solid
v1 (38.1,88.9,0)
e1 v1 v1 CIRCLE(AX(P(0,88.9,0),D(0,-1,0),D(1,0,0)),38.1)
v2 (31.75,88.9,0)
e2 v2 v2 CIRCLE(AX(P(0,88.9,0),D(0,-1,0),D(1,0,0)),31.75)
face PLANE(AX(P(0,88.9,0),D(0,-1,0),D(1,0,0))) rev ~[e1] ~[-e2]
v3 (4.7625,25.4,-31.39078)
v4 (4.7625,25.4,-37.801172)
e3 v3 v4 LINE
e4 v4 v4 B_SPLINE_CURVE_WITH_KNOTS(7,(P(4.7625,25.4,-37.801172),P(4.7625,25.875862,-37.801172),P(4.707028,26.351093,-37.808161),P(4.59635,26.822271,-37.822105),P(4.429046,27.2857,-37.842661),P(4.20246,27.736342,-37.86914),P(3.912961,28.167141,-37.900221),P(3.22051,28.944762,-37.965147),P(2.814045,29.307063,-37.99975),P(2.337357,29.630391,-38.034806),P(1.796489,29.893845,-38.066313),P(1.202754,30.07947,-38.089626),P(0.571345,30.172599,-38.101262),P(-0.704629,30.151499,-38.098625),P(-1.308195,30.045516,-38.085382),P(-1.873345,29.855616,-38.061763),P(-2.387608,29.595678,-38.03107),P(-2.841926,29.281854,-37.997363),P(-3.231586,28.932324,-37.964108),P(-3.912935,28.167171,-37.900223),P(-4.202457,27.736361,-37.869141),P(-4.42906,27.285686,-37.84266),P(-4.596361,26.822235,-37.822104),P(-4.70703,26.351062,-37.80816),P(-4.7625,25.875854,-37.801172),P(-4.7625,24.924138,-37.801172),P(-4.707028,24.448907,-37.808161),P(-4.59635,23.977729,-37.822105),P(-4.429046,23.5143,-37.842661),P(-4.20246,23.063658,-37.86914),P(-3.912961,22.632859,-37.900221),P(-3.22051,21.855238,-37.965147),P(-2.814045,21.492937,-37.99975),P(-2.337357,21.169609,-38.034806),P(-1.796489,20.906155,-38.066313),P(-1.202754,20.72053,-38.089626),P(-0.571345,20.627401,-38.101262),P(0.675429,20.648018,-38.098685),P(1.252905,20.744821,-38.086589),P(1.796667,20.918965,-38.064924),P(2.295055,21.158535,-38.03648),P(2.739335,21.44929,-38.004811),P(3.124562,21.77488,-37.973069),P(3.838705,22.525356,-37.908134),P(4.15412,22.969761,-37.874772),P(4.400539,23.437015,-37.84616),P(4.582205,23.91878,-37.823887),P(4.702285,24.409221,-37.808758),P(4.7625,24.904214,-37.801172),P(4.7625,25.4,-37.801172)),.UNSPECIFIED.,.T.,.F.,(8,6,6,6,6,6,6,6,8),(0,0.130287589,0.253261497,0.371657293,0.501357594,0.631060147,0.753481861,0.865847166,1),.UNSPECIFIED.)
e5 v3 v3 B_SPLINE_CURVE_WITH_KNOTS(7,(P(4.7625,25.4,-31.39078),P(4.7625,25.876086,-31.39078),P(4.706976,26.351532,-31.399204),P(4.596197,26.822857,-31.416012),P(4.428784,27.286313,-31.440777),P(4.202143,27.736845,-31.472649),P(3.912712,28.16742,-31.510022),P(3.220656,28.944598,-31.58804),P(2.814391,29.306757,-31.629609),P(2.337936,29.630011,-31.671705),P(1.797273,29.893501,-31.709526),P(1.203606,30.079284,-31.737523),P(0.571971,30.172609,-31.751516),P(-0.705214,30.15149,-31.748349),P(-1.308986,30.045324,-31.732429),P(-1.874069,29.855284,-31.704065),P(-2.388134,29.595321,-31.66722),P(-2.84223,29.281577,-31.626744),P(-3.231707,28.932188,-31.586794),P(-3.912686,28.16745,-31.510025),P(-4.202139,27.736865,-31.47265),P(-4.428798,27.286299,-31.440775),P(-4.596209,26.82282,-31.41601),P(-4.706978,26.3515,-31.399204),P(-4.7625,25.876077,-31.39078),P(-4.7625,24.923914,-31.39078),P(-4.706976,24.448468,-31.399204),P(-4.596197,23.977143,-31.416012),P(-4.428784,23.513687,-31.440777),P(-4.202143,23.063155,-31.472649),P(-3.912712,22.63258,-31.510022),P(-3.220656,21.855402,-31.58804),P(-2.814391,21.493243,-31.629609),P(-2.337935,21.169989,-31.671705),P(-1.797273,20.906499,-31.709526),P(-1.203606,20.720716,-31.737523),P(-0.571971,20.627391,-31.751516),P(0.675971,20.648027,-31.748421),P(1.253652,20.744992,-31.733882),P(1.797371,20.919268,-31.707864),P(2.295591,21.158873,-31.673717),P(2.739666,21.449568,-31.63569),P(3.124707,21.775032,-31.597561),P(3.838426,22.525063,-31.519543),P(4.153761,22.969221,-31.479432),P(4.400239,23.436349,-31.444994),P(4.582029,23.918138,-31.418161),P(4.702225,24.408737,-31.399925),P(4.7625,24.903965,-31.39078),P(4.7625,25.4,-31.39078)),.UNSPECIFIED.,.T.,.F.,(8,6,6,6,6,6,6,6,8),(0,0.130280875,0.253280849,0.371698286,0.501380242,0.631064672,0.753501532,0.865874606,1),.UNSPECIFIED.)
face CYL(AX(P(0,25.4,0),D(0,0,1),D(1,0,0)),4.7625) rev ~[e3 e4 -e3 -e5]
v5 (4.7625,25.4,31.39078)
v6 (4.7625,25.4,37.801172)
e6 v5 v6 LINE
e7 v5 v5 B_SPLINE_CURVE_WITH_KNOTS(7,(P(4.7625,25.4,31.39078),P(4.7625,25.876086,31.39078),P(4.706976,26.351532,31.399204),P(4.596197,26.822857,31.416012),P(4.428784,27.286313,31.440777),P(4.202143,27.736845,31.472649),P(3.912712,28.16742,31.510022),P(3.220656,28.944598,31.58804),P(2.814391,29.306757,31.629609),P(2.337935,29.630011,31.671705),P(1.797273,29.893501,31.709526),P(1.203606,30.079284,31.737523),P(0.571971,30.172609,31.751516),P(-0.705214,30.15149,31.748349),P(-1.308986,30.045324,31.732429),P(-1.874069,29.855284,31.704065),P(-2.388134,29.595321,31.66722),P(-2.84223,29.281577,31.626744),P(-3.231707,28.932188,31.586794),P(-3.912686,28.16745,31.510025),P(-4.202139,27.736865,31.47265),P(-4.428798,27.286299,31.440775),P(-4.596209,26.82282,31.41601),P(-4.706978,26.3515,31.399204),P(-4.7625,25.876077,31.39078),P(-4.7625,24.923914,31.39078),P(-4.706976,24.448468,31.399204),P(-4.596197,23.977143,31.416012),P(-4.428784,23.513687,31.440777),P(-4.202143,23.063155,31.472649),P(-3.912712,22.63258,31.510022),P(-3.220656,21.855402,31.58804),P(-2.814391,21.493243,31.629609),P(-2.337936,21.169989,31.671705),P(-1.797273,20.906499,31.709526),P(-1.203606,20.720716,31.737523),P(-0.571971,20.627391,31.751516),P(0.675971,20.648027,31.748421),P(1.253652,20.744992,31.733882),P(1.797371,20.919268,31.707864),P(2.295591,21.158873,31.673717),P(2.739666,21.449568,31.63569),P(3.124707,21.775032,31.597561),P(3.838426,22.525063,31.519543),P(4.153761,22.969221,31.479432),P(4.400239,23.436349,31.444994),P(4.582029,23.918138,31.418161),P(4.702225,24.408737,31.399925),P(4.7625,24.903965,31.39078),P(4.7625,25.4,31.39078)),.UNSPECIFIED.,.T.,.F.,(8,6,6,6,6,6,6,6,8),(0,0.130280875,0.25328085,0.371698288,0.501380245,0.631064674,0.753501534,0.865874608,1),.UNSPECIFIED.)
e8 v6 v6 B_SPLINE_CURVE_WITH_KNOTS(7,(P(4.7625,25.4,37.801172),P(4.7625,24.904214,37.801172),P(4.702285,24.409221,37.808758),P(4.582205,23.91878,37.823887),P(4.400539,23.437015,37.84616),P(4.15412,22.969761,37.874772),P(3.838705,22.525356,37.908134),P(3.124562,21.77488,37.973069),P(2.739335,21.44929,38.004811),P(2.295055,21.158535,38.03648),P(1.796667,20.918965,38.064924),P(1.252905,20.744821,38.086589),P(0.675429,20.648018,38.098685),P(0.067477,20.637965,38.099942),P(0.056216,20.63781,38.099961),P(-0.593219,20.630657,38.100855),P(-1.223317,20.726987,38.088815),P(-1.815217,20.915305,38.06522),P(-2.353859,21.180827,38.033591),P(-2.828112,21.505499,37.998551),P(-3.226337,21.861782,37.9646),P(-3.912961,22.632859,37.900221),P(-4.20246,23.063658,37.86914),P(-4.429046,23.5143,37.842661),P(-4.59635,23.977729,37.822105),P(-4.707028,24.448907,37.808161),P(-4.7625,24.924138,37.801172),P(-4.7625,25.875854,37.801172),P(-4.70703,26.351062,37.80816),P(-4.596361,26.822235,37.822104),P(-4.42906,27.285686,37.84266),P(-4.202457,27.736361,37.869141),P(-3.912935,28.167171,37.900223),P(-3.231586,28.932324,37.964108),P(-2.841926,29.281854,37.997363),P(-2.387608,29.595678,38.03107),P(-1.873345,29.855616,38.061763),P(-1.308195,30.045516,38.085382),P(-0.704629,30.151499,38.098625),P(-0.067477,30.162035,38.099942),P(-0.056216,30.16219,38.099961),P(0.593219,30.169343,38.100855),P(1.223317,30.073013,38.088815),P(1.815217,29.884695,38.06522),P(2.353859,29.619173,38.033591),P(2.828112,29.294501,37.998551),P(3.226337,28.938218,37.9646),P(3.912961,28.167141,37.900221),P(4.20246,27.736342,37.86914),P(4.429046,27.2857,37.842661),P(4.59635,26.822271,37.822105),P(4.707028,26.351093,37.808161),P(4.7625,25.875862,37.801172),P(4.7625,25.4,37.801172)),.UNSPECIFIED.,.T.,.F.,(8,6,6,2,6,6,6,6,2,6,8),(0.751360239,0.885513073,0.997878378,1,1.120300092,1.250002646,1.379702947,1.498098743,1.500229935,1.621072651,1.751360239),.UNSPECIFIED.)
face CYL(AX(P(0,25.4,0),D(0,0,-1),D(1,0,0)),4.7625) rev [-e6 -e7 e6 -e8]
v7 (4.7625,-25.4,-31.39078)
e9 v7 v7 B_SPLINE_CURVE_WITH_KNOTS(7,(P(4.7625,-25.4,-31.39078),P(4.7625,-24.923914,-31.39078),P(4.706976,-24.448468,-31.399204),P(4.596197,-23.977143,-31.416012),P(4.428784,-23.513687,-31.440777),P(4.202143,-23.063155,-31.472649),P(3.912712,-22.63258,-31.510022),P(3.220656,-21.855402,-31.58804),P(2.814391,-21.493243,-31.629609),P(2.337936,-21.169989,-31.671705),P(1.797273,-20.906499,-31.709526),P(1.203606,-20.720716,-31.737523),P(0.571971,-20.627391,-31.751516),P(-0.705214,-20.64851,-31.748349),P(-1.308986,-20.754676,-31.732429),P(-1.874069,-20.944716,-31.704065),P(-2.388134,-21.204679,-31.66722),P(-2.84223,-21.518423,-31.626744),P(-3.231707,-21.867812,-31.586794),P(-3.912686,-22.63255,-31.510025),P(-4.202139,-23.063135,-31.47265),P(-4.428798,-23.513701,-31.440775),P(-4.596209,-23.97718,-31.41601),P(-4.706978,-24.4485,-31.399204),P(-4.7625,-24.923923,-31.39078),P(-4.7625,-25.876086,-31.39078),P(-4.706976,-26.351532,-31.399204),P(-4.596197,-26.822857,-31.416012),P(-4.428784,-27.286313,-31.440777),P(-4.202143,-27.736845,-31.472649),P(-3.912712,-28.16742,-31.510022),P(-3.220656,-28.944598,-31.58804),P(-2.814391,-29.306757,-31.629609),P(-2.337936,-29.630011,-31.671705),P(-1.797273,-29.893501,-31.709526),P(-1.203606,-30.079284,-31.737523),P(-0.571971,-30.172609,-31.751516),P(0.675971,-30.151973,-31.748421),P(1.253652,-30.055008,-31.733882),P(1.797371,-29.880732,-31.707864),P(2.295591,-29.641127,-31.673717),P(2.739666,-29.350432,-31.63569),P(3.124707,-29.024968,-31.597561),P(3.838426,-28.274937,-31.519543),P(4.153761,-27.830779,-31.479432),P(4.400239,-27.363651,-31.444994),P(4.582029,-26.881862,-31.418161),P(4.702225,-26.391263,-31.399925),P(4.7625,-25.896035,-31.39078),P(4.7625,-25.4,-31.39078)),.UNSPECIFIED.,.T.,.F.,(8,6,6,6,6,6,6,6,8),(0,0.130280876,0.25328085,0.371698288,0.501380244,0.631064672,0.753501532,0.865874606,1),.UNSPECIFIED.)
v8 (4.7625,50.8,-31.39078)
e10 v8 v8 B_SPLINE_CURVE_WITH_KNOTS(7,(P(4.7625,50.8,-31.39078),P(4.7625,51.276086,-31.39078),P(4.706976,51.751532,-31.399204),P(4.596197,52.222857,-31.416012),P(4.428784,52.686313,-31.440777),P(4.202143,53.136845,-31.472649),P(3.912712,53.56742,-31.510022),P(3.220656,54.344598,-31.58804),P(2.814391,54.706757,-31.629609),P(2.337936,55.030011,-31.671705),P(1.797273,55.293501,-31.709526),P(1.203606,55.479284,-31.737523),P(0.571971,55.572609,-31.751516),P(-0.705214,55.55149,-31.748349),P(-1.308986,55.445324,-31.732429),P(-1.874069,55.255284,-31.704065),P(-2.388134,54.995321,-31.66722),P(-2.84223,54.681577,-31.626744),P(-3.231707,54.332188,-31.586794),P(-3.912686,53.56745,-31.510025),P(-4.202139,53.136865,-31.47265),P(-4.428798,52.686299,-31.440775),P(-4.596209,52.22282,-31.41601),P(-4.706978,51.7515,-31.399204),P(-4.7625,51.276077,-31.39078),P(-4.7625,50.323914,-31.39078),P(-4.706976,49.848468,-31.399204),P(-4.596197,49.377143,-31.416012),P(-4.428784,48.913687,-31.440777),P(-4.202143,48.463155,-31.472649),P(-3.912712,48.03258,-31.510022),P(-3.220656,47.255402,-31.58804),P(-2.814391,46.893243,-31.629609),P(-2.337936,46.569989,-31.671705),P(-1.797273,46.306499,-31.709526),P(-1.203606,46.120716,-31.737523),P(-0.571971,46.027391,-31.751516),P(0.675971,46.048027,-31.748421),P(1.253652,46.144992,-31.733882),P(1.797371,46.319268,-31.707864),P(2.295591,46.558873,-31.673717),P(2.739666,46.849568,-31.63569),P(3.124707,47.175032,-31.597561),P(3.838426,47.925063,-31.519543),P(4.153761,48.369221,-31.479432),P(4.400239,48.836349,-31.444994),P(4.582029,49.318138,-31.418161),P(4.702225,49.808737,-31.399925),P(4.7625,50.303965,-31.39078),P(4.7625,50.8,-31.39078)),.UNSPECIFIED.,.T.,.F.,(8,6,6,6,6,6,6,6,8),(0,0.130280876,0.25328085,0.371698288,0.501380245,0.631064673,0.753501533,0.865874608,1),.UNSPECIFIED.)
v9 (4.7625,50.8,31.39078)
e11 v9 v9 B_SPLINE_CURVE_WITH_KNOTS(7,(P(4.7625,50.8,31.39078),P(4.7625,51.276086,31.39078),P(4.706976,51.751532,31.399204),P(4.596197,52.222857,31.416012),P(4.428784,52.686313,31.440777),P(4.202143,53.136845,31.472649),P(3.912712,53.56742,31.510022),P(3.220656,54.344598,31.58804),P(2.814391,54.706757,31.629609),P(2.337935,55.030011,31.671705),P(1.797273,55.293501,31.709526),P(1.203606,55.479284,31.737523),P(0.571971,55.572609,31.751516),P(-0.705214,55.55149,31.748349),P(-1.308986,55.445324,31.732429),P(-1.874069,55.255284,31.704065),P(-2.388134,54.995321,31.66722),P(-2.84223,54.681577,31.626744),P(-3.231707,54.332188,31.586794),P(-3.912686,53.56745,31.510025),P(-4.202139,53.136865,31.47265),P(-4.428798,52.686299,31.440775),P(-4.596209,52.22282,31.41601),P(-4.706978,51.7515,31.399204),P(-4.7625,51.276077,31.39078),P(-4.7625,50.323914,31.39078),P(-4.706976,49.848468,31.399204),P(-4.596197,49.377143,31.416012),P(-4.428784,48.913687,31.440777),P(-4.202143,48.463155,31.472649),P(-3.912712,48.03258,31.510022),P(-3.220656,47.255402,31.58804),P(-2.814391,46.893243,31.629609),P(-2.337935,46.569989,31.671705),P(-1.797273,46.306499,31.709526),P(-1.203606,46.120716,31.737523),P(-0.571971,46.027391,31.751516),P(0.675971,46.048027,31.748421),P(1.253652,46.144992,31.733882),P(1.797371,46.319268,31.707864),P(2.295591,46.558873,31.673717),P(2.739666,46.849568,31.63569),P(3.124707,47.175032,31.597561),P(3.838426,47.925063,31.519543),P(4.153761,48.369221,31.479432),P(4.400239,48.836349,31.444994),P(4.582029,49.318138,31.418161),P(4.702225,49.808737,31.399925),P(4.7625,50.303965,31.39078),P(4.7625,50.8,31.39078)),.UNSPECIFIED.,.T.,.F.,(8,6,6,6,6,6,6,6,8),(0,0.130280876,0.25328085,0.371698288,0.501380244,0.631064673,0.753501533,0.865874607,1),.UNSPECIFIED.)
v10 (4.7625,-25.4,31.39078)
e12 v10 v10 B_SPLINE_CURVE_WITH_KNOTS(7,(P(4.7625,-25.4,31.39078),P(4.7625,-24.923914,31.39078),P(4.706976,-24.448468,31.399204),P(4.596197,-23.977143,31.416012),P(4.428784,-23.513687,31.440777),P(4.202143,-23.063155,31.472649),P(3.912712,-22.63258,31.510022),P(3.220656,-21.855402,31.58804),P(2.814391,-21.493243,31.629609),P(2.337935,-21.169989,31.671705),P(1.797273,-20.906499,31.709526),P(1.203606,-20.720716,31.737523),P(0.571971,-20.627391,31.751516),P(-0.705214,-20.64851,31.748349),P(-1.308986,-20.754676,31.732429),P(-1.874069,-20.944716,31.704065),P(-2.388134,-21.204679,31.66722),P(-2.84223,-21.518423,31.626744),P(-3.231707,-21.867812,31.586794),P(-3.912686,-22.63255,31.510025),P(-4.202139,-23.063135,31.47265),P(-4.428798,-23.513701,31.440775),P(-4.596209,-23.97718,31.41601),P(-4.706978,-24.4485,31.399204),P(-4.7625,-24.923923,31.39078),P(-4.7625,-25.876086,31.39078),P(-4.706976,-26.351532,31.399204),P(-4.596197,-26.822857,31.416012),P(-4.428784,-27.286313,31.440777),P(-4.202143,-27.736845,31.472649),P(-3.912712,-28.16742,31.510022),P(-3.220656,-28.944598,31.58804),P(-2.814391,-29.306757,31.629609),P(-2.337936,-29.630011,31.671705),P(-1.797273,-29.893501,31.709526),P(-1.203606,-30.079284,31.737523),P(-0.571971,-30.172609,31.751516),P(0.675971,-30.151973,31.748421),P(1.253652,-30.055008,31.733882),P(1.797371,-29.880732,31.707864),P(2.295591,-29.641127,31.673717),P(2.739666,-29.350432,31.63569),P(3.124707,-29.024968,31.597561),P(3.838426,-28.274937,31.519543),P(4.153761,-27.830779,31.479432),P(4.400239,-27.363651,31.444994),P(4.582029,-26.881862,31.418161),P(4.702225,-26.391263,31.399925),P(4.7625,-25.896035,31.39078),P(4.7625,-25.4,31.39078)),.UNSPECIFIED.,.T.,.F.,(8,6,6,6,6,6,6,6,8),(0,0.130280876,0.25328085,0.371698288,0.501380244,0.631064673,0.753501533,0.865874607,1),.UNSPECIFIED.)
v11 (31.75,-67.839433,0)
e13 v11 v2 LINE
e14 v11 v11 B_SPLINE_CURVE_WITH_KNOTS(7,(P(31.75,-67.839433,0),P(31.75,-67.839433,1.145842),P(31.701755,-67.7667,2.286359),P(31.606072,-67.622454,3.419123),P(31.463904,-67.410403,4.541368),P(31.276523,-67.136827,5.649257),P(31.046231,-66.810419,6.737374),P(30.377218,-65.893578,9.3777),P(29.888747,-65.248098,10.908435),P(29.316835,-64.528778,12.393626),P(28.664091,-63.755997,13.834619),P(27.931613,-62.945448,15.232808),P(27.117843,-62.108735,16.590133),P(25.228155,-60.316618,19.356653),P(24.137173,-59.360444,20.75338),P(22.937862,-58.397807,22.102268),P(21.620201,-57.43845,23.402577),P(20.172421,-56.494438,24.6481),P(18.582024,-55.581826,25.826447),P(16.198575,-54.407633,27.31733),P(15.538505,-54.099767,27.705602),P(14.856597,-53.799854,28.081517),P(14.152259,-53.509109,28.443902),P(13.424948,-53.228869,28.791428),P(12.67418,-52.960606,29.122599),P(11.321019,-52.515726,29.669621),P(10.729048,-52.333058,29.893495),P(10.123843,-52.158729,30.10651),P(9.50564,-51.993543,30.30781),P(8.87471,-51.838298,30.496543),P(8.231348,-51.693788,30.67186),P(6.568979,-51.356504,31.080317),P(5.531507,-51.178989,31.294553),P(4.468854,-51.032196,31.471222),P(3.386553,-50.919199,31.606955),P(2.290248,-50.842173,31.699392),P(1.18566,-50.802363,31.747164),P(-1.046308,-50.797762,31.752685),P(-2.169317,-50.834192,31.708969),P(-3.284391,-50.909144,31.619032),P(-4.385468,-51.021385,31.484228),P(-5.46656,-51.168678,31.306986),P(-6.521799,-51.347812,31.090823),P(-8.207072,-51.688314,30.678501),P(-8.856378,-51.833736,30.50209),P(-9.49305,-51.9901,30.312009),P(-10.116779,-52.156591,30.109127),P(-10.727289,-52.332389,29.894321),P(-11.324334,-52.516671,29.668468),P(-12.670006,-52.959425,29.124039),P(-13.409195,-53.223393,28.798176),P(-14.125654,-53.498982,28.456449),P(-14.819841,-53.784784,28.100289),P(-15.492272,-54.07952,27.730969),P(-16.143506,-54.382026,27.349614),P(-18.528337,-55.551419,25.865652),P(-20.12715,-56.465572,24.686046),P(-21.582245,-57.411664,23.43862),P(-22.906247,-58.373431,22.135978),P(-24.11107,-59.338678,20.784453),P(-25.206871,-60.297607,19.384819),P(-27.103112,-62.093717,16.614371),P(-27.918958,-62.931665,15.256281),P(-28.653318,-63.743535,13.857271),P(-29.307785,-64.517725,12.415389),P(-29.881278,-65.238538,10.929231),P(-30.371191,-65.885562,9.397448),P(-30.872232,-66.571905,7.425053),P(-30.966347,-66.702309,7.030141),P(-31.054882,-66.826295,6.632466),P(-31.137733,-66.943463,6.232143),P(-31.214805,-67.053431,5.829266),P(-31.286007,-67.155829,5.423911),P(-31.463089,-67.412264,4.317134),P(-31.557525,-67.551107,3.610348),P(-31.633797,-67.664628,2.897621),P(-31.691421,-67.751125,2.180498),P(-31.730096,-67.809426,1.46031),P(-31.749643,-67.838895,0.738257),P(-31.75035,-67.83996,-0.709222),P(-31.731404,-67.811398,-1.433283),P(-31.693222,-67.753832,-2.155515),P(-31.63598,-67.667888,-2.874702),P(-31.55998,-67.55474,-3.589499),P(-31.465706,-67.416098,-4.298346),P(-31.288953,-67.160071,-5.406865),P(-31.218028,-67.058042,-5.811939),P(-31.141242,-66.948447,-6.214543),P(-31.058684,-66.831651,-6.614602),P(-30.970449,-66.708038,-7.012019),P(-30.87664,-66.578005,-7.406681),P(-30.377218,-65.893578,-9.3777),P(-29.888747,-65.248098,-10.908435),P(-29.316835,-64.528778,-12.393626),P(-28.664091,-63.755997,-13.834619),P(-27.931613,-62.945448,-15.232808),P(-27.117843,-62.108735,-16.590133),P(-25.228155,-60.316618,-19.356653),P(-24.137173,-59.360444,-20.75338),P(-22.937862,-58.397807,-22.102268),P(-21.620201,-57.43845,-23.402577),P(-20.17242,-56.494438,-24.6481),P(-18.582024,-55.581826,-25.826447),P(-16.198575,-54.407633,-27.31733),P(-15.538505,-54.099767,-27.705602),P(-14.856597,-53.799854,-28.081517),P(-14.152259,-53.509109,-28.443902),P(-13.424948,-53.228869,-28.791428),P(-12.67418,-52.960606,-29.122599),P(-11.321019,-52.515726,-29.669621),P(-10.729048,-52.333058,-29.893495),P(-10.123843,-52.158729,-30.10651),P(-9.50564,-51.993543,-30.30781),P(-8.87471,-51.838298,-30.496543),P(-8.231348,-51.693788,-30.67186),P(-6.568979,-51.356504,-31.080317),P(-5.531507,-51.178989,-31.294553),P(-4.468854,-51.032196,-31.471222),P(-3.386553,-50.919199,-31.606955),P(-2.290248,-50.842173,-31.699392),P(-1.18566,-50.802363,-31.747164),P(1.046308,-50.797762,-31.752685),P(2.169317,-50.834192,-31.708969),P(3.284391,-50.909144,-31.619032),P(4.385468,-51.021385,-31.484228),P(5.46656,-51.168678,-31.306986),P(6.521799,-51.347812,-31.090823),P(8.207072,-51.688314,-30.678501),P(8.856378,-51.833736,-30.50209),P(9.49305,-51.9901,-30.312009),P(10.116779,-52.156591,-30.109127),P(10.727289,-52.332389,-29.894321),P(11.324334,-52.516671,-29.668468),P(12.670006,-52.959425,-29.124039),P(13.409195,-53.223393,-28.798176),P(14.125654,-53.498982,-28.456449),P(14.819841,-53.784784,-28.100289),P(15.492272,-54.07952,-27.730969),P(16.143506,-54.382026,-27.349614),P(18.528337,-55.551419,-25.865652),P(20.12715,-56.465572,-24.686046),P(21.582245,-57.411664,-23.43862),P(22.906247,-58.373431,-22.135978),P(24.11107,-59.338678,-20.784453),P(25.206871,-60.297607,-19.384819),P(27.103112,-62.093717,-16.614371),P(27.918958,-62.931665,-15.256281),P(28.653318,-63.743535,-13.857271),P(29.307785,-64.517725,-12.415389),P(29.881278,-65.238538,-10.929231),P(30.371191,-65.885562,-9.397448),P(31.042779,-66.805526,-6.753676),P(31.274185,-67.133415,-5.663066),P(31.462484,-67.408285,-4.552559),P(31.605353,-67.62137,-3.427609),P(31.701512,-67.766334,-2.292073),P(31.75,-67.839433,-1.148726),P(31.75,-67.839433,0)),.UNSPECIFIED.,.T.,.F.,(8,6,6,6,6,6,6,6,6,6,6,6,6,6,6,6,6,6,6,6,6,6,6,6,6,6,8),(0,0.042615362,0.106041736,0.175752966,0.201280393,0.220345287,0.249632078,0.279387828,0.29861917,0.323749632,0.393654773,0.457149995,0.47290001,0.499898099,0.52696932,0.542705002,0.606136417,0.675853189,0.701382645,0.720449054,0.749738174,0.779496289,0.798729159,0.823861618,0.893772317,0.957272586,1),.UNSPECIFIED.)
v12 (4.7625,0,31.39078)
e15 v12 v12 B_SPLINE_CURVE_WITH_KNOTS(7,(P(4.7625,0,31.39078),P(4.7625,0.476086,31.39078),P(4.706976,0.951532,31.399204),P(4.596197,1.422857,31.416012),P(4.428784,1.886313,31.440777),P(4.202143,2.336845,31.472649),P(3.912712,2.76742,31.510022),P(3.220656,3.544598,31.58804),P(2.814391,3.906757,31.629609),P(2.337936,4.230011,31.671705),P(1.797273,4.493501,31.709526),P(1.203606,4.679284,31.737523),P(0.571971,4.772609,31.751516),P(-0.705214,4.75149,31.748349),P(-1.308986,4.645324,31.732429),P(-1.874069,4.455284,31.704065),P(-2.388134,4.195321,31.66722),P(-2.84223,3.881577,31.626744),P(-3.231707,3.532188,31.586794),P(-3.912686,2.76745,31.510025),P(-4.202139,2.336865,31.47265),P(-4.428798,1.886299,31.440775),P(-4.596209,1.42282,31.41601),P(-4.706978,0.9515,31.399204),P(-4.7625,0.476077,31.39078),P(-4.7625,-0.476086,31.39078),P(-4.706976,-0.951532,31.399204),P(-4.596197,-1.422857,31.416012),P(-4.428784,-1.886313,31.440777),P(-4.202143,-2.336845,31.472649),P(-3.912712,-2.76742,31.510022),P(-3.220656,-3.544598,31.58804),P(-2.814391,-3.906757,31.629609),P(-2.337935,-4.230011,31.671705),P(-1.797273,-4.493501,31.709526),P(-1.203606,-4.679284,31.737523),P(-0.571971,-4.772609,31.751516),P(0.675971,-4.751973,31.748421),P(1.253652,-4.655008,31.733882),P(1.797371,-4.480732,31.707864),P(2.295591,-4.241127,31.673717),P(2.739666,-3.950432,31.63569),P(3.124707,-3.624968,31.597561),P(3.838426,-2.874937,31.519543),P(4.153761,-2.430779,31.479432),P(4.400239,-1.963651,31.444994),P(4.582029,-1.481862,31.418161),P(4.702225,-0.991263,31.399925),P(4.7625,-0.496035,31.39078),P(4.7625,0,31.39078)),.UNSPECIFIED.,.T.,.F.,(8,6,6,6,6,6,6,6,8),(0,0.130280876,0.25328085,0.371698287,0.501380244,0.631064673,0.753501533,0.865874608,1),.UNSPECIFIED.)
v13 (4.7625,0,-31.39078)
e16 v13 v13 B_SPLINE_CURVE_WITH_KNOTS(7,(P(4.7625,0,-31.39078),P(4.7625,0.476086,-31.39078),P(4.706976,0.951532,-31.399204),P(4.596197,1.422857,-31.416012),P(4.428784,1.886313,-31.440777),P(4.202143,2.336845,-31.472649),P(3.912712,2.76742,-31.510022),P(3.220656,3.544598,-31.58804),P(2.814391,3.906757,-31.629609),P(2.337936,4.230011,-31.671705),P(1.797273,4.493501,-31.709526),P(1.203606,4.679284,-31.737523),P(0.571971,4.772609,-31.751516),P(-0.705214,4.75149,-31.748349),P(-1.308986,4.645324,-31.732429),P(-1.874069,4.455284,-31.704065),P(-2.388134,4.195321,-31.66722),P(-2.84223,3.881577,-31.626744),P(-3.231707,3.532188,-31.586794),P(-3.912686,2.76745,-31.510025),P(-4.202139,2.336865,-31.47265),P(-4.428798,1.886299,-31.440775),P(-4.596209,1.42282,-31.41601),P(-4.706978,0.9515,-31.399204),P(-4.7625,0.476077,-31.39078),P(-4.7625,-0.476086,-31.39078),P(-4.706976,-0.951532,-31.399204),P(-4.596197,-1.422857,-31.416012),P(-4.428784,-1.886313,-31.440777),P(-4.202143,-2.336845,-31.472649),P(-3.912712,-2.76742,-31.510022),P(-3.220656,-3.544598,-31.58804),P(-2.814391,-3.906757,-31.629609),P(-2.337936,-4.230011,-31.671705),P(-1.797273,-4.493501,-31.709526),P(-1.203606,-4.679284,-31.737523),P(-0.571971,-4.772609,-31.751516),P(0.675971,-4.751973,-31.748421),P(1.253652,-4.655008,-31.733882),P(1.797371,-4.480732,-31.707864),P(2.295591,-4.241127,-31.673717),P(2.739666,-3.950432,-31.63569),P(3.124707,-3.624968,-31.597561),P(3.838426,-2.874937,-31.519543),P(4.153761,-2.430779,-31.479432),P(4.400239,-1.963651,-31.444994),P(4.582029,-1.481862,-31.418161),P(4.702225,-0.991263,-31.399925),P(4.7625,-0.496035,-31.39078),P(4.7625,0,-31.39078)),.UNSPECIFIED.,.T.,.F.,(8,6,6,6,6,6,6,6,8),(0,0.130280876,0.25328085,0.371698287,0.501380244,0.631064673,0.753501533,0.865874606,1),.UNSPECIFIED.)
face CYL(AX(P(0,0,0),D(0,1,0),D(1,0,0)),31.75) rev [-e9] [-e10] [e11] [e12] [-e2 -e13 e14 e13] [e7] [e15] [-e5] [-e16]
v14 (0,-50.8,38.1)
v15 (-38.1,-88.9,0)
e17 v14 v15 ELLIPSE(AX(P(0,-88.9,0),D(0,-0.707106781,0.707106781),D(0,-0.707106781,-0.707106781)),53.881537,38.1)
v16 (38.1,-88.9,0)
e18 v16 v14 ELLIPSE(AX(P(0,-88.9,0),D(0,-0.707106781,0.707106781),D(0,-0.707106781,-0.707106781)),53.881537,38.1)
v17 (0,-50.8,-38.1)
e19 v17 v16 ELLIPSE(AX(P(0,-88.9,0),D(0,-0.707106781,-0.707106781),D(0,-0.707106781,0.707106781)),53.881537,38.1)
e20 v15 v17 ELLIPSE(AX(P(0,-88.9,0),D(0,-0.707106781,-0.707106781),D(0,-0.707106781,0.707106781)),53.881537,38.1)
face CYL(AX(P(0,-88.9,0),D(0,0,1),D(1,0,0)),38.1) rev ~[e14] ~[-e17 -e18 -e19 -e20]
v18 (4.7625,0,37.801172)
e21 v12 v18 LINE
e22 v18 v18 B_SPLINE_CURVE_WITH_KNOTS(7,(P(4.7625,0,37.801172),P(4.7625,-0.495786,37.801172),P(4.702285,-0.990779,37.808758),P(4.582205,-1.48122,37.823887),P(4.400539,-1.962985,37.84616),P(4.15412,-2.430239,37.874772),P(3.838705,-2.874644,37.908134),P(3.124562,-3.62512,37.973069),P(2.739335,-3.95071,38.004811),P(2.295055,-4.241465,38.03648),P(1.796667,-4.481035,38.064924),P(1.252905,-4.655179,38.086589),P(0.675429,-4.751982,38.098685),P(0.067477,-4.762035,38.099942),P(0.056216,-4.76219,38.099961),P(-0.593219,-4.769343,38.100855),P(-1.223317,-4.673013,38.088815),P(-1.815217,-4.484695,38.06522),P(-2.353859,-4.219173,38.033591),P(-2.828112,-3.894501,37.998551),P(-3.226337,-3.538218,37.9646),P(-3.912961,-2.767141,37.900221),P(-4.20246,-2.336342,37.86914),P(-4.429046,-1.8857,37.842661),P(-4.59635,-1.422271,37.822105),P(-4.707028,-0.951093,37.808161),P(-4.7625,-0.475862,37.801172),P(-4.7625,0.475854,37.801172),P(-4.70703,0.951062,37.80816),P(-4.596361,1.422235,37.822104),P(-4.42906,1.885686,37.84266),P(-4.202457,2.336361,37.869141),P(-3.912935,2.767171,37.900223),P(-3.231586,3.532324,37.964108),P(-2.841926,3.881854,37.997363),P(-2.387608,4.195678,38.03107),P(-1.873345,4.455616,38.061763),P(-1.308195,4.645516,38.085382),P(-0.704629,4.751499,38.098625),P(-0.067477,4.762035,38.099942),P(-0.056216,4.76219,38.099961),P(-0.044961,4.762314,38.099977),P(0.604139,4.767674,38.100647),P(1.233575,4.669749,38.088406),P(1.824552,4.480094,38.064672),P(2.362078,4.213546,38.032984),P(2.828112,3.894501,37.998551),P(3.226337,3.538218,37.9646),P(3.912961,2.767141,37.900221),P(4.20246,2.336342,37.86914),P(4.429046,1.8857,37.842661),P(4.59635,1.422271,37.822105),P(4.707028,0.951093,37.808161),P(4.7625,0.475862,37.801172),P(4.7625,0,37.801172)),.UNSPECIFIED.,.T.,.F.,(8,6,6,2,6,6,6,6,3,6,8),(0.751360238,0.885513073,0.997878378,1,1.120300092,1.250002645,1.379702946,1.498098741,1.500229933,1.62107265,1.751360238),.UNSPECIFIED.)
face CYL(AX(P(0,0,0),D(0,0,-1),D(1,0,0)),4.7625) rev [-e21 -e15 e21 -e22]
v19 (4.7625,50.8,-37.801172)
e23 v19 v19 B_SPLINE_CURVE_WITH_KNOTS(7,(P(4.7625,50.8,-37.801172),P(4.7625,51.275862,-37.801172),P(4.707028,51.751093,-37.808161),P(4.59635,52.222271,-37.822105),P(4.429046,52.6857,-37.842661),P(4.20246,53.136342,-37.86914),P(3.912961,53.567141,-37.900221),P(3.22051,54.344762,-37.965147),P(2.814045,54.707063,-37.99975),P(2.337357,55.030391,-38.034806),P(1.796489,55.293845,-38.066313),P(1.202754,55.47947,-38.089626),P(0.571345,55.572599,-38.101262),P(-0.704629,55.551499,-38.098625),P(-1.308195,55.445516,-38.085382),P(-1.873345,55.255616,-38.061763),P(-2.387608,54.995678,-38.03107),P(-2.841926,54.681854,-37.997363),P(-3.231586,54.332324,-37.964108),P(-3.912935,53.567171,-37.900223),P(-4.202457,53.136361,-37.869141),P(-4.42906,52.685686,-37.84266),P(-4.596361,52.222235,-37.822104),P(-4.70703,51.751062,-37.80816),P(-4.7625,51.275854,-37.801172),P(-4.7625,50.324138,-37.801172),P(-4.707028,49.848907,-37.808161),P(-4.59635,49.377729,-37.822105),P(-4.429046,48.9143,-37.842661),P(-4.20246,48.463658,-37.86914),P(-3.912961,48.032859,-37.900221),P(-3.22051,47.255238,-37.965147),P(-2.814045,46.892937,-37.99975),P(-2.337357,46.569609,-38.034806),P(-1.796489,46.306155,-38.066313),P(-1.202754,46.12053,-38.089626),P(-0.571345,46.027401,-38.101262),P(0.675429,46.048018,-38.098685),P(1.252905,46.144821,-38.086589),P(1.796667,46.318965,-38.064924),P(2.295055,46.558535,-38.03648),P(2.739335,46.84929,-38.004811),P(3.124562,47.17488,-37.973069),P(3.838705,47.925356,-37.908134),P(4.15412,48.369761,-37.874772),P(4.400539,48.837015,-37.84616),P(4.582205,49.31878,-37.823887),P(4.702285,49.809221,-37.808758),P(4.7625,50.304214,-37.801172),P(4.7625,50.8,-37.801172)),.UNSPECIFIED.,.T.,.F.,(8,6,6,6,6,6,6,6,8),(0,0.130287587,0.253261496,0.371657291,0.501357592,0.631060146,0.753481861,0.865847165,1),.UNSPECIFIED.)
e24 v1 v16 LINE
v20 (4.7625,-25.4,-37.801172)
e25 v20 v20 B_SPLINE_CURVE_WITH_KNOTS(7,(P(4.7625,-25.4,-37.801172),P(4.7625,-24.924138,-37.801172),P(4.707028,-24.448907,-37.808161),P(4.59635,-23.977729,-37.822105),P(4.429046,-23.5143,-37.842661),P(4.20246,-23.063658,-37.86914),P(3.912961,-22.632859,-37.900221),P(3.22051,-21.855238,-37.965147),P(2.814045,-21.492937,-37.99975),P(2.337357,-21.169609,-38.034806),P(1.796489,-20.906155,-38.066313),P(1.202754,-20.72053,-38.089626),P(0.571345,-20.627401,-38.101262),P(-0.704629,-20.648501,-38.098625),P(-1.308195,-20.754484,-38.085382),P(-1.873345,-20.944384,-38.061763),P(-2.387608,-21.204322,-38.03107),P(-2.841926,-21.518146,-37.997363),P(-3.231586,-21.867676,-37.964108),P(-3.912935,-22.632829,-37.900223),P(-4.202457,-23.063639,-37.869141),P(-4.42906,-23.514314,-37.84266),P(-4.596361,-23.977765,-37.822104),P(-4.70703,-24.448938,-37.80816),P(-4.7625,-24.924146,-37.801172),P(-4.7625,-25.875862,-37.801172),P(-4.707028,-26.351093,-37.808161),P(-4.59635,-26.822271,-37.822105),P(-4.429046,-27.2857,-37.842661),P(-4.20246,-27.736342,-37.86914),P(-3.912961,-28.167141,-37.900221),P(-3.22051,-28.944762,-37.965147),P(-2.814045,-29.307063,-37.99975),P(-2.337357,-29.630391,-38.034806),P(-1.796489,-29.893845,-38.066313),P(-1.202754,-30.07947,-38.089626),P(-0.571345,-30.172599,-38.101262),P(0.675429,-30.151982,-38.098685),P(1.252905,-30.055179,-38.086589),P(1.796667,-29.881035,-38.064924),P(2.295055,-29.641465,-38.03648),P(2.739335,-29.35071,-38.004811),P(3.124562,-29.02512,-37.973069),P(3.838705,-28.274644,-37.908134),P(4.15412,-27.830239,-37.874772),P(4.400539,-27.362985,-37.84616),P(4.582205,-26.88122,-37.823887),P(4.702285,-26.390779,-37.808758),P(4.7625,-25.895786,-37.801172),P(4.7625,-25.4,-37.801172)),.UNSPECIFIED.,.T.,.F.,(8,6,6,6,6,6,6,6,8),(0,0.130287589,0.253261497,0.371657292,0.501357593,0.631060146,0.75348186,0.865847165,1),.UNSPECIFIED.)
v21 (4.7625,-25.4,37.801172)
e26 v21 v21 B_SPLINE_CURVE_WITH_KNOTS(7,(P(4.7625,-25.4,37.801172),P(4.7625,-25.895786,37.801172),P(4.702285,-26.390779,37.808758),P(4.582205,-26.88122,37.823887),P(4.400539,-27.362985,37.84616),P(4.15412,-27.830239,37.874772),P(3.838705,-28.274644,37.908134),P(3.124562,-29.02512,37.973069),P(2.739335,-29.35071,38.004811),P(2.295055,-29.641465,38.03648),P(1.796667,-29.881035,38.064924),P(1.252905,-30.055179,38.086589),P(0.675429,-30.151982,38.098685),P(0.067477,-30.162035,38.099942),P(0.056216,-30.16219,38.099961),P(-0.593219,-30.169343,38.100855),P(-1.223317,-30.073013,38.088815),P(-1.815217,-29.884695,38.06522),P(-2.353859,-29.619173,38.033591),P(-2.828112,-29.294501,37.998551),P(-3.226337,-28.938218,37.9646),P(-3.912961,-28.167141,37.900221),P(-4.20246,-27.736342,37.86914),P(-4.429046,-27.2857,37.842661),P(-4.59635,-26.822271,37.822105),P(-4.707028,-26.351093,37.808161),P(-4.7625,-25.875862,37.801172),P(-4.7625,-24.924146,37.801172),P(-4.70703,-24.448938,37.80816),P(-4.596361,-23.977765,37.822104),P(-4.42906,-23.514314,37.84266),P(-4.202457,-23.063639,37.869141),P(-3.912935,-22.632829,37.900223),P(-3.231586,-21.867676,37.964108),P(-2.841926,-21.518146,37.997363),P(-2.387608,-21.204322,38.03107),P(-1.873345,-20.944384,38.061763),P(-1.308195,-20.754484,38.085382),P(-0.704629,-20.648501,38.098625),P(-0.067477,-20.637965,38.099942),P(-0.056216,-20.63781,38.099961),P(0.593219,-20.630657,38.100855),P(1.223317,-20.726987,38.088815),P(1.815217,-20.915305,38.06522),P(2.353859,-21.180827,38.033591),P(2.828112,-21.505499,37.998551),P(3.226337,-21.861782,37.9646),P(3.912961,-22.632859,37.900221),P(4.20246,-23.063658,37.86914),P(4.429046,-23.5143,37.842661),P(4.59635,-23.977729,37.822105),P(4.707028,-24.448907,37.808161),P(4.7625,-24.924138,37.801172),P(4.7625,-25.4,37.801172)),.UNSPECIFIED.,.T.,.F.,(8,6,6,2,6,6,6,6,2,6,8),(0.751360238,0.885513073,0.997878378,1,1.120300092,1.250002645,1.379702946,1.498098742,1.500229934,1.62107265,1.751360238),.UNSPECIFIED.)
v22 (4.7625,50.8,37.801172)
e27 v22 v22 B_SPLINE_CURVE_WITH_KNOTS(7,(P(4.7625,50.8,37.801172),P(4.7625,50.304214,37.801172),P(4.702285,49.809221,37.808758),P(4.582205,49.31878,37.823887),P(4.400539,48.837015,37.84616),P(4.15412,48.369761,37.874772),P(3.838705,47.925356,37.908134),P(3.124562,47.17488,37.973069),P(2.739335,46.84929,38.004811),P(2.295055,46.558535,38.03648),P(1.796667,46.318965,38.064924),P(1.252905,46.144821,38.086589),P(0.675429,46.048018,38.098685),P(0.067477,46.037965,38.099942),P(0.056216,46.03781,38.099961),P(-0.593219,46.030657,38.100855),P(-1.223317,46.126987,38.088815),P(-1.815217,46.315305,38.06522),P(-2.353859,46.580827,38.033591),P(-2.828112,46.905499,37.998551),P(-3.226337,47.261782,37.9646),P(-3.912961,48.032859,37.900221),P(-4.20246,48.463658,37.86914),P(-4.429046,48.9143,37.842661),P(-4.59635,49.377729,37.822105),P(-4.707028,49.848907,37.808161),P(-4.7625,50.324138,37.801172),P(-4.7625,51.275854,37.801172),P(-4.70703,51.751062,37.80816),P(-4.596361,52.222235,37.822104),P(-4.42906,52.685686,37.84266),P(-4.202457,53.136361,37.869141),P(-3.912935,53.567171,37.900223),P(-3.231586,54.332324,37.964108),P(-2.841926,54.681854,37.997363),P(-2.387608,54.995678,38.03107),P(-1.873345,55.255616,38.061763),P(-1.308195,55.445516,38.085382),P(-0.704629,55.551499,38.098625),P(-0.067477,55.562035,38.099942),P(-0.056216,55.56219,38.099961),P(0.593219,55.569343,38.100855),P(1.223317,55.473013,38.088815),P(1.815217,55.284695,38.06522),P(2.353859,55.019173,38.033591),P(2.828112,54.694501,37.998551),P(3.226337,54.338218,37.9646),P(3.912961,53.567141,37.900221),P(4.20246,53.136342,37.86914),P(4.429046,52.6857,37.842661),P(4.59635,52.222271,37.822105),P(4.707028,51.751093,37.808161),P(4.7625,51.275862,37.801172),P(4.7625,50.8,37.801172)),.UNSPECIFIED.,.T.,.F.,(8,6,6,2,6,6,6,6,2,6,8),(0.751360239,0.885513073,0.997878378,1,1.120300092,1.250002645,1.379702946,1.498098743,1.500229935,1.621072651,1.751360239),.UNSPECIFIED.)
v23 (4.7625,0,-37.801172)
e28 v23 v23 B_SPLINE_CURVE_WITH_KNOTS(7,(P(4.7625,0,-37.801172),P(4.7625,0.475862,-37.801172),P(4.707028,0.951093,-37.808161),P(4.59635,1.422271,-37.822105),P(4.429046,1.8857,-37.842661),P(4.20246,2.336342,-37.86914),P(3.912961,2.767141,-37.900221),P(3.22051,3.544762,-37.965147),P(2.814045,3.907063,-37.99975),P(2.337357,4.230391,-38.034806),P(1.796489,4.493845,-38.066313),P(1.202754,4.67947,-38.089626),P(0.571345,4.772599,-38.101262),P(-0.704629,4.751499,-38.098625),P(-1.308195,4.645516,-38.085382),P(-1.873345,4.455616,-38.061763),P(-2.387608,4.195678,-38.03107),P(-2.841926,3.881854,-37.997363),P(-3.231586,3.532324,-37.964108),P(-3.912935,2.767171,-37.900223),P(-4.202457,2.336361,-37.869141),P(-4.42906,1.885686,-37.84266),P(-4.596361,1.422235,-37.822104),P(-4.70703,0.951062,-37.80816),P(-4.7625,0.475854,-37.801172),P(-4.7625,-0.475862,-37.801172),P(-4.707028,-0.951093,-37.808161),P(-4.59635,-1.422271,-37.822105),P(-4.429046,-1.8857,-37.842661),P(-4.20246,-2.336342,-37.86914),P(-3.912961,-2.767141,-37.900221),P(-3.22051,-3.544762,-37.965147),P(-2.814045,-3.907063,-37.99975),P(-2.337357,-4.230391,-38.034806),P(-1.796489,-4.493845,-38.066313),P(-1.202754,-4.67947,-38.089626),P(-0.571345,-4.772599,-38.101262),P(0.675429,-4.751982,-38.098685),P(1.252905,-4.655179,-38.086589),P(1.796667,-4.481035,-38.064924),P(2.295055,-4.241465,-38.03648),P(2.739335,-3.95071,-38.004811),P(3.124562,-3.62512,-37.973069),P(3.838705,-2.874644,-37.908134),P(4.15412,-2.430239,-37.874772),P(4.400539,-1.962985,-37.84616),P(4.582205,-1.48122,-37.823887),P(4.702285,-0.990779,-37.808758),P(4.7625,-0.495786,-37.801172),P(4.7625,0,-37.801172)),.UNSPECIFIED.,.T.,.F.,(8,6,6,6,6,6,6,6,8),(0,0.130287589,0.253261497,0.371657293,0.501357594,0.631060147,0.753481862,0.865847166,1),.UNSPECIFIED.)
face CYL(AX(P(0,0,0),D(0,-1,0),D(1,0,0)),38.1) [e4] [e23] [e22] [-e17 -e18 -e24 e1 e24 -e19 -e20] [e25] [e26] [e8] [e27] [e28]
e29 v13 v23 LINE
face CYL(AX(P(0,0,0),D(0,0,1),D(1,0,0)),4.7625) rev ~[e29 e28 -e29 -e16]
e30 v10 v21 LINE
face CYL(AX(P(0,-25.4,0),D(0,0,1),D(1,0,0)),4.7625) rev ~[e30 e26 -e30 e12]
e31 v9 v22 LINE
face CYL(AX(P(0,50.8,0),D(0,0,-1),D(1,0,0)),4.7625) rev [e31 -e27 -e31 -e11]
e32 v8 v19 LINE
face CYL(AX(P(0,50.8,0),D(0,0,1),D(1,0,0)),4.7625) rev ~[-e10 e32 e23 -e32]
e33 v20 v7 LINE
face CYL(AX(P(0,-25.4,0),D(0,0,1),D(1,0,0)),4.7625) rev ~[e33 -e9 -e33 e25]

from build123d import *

# Parameters (mm, degrees)
F0_R     = 38.1
F0_R_2   = 31.75
F1_DEPTH = 88.9
F2_R     = 38.1
F3_DEPTH = 38.1
F4_R     = 4.7625
F5_DEPTH = 38.1


with BuildPart() as f1:
    # F0 (on Front) → F1 (new body, symmetric)
    with BuildSketch(Plane.XZ):
        Circle(F0_R)
        Circle(F0_R_2, mode=Mode.SUBTRACT)
    extrude(amount=F1_DEPTH, both=True)

    # F2 (on Top) → F3 (cut, symmetric)
    with BuildSketch(Plane.XY):
        with Locations((0, -88.9)):
            Circle(F2_R)
    extrude(amount=F3_DEPTH, both=True, mode=Mode.SUBTRACT)

    # F4 (on Top) → F5 (cut, symmetric)
    with BuildSketch(Plane.XY):
        with Locations((0, 50.8)):
            Circle(F4_R)
        with Locations((0, 25.4)):
            Circle(F4_R)
        Circle(F4_R)
        with Locations((0, -25.4)):
            Circle(F4_R)
    extrude(amount=F5_DEPTH, both=True, mode=Mode.SUBTRACT)


solid = f1.part
